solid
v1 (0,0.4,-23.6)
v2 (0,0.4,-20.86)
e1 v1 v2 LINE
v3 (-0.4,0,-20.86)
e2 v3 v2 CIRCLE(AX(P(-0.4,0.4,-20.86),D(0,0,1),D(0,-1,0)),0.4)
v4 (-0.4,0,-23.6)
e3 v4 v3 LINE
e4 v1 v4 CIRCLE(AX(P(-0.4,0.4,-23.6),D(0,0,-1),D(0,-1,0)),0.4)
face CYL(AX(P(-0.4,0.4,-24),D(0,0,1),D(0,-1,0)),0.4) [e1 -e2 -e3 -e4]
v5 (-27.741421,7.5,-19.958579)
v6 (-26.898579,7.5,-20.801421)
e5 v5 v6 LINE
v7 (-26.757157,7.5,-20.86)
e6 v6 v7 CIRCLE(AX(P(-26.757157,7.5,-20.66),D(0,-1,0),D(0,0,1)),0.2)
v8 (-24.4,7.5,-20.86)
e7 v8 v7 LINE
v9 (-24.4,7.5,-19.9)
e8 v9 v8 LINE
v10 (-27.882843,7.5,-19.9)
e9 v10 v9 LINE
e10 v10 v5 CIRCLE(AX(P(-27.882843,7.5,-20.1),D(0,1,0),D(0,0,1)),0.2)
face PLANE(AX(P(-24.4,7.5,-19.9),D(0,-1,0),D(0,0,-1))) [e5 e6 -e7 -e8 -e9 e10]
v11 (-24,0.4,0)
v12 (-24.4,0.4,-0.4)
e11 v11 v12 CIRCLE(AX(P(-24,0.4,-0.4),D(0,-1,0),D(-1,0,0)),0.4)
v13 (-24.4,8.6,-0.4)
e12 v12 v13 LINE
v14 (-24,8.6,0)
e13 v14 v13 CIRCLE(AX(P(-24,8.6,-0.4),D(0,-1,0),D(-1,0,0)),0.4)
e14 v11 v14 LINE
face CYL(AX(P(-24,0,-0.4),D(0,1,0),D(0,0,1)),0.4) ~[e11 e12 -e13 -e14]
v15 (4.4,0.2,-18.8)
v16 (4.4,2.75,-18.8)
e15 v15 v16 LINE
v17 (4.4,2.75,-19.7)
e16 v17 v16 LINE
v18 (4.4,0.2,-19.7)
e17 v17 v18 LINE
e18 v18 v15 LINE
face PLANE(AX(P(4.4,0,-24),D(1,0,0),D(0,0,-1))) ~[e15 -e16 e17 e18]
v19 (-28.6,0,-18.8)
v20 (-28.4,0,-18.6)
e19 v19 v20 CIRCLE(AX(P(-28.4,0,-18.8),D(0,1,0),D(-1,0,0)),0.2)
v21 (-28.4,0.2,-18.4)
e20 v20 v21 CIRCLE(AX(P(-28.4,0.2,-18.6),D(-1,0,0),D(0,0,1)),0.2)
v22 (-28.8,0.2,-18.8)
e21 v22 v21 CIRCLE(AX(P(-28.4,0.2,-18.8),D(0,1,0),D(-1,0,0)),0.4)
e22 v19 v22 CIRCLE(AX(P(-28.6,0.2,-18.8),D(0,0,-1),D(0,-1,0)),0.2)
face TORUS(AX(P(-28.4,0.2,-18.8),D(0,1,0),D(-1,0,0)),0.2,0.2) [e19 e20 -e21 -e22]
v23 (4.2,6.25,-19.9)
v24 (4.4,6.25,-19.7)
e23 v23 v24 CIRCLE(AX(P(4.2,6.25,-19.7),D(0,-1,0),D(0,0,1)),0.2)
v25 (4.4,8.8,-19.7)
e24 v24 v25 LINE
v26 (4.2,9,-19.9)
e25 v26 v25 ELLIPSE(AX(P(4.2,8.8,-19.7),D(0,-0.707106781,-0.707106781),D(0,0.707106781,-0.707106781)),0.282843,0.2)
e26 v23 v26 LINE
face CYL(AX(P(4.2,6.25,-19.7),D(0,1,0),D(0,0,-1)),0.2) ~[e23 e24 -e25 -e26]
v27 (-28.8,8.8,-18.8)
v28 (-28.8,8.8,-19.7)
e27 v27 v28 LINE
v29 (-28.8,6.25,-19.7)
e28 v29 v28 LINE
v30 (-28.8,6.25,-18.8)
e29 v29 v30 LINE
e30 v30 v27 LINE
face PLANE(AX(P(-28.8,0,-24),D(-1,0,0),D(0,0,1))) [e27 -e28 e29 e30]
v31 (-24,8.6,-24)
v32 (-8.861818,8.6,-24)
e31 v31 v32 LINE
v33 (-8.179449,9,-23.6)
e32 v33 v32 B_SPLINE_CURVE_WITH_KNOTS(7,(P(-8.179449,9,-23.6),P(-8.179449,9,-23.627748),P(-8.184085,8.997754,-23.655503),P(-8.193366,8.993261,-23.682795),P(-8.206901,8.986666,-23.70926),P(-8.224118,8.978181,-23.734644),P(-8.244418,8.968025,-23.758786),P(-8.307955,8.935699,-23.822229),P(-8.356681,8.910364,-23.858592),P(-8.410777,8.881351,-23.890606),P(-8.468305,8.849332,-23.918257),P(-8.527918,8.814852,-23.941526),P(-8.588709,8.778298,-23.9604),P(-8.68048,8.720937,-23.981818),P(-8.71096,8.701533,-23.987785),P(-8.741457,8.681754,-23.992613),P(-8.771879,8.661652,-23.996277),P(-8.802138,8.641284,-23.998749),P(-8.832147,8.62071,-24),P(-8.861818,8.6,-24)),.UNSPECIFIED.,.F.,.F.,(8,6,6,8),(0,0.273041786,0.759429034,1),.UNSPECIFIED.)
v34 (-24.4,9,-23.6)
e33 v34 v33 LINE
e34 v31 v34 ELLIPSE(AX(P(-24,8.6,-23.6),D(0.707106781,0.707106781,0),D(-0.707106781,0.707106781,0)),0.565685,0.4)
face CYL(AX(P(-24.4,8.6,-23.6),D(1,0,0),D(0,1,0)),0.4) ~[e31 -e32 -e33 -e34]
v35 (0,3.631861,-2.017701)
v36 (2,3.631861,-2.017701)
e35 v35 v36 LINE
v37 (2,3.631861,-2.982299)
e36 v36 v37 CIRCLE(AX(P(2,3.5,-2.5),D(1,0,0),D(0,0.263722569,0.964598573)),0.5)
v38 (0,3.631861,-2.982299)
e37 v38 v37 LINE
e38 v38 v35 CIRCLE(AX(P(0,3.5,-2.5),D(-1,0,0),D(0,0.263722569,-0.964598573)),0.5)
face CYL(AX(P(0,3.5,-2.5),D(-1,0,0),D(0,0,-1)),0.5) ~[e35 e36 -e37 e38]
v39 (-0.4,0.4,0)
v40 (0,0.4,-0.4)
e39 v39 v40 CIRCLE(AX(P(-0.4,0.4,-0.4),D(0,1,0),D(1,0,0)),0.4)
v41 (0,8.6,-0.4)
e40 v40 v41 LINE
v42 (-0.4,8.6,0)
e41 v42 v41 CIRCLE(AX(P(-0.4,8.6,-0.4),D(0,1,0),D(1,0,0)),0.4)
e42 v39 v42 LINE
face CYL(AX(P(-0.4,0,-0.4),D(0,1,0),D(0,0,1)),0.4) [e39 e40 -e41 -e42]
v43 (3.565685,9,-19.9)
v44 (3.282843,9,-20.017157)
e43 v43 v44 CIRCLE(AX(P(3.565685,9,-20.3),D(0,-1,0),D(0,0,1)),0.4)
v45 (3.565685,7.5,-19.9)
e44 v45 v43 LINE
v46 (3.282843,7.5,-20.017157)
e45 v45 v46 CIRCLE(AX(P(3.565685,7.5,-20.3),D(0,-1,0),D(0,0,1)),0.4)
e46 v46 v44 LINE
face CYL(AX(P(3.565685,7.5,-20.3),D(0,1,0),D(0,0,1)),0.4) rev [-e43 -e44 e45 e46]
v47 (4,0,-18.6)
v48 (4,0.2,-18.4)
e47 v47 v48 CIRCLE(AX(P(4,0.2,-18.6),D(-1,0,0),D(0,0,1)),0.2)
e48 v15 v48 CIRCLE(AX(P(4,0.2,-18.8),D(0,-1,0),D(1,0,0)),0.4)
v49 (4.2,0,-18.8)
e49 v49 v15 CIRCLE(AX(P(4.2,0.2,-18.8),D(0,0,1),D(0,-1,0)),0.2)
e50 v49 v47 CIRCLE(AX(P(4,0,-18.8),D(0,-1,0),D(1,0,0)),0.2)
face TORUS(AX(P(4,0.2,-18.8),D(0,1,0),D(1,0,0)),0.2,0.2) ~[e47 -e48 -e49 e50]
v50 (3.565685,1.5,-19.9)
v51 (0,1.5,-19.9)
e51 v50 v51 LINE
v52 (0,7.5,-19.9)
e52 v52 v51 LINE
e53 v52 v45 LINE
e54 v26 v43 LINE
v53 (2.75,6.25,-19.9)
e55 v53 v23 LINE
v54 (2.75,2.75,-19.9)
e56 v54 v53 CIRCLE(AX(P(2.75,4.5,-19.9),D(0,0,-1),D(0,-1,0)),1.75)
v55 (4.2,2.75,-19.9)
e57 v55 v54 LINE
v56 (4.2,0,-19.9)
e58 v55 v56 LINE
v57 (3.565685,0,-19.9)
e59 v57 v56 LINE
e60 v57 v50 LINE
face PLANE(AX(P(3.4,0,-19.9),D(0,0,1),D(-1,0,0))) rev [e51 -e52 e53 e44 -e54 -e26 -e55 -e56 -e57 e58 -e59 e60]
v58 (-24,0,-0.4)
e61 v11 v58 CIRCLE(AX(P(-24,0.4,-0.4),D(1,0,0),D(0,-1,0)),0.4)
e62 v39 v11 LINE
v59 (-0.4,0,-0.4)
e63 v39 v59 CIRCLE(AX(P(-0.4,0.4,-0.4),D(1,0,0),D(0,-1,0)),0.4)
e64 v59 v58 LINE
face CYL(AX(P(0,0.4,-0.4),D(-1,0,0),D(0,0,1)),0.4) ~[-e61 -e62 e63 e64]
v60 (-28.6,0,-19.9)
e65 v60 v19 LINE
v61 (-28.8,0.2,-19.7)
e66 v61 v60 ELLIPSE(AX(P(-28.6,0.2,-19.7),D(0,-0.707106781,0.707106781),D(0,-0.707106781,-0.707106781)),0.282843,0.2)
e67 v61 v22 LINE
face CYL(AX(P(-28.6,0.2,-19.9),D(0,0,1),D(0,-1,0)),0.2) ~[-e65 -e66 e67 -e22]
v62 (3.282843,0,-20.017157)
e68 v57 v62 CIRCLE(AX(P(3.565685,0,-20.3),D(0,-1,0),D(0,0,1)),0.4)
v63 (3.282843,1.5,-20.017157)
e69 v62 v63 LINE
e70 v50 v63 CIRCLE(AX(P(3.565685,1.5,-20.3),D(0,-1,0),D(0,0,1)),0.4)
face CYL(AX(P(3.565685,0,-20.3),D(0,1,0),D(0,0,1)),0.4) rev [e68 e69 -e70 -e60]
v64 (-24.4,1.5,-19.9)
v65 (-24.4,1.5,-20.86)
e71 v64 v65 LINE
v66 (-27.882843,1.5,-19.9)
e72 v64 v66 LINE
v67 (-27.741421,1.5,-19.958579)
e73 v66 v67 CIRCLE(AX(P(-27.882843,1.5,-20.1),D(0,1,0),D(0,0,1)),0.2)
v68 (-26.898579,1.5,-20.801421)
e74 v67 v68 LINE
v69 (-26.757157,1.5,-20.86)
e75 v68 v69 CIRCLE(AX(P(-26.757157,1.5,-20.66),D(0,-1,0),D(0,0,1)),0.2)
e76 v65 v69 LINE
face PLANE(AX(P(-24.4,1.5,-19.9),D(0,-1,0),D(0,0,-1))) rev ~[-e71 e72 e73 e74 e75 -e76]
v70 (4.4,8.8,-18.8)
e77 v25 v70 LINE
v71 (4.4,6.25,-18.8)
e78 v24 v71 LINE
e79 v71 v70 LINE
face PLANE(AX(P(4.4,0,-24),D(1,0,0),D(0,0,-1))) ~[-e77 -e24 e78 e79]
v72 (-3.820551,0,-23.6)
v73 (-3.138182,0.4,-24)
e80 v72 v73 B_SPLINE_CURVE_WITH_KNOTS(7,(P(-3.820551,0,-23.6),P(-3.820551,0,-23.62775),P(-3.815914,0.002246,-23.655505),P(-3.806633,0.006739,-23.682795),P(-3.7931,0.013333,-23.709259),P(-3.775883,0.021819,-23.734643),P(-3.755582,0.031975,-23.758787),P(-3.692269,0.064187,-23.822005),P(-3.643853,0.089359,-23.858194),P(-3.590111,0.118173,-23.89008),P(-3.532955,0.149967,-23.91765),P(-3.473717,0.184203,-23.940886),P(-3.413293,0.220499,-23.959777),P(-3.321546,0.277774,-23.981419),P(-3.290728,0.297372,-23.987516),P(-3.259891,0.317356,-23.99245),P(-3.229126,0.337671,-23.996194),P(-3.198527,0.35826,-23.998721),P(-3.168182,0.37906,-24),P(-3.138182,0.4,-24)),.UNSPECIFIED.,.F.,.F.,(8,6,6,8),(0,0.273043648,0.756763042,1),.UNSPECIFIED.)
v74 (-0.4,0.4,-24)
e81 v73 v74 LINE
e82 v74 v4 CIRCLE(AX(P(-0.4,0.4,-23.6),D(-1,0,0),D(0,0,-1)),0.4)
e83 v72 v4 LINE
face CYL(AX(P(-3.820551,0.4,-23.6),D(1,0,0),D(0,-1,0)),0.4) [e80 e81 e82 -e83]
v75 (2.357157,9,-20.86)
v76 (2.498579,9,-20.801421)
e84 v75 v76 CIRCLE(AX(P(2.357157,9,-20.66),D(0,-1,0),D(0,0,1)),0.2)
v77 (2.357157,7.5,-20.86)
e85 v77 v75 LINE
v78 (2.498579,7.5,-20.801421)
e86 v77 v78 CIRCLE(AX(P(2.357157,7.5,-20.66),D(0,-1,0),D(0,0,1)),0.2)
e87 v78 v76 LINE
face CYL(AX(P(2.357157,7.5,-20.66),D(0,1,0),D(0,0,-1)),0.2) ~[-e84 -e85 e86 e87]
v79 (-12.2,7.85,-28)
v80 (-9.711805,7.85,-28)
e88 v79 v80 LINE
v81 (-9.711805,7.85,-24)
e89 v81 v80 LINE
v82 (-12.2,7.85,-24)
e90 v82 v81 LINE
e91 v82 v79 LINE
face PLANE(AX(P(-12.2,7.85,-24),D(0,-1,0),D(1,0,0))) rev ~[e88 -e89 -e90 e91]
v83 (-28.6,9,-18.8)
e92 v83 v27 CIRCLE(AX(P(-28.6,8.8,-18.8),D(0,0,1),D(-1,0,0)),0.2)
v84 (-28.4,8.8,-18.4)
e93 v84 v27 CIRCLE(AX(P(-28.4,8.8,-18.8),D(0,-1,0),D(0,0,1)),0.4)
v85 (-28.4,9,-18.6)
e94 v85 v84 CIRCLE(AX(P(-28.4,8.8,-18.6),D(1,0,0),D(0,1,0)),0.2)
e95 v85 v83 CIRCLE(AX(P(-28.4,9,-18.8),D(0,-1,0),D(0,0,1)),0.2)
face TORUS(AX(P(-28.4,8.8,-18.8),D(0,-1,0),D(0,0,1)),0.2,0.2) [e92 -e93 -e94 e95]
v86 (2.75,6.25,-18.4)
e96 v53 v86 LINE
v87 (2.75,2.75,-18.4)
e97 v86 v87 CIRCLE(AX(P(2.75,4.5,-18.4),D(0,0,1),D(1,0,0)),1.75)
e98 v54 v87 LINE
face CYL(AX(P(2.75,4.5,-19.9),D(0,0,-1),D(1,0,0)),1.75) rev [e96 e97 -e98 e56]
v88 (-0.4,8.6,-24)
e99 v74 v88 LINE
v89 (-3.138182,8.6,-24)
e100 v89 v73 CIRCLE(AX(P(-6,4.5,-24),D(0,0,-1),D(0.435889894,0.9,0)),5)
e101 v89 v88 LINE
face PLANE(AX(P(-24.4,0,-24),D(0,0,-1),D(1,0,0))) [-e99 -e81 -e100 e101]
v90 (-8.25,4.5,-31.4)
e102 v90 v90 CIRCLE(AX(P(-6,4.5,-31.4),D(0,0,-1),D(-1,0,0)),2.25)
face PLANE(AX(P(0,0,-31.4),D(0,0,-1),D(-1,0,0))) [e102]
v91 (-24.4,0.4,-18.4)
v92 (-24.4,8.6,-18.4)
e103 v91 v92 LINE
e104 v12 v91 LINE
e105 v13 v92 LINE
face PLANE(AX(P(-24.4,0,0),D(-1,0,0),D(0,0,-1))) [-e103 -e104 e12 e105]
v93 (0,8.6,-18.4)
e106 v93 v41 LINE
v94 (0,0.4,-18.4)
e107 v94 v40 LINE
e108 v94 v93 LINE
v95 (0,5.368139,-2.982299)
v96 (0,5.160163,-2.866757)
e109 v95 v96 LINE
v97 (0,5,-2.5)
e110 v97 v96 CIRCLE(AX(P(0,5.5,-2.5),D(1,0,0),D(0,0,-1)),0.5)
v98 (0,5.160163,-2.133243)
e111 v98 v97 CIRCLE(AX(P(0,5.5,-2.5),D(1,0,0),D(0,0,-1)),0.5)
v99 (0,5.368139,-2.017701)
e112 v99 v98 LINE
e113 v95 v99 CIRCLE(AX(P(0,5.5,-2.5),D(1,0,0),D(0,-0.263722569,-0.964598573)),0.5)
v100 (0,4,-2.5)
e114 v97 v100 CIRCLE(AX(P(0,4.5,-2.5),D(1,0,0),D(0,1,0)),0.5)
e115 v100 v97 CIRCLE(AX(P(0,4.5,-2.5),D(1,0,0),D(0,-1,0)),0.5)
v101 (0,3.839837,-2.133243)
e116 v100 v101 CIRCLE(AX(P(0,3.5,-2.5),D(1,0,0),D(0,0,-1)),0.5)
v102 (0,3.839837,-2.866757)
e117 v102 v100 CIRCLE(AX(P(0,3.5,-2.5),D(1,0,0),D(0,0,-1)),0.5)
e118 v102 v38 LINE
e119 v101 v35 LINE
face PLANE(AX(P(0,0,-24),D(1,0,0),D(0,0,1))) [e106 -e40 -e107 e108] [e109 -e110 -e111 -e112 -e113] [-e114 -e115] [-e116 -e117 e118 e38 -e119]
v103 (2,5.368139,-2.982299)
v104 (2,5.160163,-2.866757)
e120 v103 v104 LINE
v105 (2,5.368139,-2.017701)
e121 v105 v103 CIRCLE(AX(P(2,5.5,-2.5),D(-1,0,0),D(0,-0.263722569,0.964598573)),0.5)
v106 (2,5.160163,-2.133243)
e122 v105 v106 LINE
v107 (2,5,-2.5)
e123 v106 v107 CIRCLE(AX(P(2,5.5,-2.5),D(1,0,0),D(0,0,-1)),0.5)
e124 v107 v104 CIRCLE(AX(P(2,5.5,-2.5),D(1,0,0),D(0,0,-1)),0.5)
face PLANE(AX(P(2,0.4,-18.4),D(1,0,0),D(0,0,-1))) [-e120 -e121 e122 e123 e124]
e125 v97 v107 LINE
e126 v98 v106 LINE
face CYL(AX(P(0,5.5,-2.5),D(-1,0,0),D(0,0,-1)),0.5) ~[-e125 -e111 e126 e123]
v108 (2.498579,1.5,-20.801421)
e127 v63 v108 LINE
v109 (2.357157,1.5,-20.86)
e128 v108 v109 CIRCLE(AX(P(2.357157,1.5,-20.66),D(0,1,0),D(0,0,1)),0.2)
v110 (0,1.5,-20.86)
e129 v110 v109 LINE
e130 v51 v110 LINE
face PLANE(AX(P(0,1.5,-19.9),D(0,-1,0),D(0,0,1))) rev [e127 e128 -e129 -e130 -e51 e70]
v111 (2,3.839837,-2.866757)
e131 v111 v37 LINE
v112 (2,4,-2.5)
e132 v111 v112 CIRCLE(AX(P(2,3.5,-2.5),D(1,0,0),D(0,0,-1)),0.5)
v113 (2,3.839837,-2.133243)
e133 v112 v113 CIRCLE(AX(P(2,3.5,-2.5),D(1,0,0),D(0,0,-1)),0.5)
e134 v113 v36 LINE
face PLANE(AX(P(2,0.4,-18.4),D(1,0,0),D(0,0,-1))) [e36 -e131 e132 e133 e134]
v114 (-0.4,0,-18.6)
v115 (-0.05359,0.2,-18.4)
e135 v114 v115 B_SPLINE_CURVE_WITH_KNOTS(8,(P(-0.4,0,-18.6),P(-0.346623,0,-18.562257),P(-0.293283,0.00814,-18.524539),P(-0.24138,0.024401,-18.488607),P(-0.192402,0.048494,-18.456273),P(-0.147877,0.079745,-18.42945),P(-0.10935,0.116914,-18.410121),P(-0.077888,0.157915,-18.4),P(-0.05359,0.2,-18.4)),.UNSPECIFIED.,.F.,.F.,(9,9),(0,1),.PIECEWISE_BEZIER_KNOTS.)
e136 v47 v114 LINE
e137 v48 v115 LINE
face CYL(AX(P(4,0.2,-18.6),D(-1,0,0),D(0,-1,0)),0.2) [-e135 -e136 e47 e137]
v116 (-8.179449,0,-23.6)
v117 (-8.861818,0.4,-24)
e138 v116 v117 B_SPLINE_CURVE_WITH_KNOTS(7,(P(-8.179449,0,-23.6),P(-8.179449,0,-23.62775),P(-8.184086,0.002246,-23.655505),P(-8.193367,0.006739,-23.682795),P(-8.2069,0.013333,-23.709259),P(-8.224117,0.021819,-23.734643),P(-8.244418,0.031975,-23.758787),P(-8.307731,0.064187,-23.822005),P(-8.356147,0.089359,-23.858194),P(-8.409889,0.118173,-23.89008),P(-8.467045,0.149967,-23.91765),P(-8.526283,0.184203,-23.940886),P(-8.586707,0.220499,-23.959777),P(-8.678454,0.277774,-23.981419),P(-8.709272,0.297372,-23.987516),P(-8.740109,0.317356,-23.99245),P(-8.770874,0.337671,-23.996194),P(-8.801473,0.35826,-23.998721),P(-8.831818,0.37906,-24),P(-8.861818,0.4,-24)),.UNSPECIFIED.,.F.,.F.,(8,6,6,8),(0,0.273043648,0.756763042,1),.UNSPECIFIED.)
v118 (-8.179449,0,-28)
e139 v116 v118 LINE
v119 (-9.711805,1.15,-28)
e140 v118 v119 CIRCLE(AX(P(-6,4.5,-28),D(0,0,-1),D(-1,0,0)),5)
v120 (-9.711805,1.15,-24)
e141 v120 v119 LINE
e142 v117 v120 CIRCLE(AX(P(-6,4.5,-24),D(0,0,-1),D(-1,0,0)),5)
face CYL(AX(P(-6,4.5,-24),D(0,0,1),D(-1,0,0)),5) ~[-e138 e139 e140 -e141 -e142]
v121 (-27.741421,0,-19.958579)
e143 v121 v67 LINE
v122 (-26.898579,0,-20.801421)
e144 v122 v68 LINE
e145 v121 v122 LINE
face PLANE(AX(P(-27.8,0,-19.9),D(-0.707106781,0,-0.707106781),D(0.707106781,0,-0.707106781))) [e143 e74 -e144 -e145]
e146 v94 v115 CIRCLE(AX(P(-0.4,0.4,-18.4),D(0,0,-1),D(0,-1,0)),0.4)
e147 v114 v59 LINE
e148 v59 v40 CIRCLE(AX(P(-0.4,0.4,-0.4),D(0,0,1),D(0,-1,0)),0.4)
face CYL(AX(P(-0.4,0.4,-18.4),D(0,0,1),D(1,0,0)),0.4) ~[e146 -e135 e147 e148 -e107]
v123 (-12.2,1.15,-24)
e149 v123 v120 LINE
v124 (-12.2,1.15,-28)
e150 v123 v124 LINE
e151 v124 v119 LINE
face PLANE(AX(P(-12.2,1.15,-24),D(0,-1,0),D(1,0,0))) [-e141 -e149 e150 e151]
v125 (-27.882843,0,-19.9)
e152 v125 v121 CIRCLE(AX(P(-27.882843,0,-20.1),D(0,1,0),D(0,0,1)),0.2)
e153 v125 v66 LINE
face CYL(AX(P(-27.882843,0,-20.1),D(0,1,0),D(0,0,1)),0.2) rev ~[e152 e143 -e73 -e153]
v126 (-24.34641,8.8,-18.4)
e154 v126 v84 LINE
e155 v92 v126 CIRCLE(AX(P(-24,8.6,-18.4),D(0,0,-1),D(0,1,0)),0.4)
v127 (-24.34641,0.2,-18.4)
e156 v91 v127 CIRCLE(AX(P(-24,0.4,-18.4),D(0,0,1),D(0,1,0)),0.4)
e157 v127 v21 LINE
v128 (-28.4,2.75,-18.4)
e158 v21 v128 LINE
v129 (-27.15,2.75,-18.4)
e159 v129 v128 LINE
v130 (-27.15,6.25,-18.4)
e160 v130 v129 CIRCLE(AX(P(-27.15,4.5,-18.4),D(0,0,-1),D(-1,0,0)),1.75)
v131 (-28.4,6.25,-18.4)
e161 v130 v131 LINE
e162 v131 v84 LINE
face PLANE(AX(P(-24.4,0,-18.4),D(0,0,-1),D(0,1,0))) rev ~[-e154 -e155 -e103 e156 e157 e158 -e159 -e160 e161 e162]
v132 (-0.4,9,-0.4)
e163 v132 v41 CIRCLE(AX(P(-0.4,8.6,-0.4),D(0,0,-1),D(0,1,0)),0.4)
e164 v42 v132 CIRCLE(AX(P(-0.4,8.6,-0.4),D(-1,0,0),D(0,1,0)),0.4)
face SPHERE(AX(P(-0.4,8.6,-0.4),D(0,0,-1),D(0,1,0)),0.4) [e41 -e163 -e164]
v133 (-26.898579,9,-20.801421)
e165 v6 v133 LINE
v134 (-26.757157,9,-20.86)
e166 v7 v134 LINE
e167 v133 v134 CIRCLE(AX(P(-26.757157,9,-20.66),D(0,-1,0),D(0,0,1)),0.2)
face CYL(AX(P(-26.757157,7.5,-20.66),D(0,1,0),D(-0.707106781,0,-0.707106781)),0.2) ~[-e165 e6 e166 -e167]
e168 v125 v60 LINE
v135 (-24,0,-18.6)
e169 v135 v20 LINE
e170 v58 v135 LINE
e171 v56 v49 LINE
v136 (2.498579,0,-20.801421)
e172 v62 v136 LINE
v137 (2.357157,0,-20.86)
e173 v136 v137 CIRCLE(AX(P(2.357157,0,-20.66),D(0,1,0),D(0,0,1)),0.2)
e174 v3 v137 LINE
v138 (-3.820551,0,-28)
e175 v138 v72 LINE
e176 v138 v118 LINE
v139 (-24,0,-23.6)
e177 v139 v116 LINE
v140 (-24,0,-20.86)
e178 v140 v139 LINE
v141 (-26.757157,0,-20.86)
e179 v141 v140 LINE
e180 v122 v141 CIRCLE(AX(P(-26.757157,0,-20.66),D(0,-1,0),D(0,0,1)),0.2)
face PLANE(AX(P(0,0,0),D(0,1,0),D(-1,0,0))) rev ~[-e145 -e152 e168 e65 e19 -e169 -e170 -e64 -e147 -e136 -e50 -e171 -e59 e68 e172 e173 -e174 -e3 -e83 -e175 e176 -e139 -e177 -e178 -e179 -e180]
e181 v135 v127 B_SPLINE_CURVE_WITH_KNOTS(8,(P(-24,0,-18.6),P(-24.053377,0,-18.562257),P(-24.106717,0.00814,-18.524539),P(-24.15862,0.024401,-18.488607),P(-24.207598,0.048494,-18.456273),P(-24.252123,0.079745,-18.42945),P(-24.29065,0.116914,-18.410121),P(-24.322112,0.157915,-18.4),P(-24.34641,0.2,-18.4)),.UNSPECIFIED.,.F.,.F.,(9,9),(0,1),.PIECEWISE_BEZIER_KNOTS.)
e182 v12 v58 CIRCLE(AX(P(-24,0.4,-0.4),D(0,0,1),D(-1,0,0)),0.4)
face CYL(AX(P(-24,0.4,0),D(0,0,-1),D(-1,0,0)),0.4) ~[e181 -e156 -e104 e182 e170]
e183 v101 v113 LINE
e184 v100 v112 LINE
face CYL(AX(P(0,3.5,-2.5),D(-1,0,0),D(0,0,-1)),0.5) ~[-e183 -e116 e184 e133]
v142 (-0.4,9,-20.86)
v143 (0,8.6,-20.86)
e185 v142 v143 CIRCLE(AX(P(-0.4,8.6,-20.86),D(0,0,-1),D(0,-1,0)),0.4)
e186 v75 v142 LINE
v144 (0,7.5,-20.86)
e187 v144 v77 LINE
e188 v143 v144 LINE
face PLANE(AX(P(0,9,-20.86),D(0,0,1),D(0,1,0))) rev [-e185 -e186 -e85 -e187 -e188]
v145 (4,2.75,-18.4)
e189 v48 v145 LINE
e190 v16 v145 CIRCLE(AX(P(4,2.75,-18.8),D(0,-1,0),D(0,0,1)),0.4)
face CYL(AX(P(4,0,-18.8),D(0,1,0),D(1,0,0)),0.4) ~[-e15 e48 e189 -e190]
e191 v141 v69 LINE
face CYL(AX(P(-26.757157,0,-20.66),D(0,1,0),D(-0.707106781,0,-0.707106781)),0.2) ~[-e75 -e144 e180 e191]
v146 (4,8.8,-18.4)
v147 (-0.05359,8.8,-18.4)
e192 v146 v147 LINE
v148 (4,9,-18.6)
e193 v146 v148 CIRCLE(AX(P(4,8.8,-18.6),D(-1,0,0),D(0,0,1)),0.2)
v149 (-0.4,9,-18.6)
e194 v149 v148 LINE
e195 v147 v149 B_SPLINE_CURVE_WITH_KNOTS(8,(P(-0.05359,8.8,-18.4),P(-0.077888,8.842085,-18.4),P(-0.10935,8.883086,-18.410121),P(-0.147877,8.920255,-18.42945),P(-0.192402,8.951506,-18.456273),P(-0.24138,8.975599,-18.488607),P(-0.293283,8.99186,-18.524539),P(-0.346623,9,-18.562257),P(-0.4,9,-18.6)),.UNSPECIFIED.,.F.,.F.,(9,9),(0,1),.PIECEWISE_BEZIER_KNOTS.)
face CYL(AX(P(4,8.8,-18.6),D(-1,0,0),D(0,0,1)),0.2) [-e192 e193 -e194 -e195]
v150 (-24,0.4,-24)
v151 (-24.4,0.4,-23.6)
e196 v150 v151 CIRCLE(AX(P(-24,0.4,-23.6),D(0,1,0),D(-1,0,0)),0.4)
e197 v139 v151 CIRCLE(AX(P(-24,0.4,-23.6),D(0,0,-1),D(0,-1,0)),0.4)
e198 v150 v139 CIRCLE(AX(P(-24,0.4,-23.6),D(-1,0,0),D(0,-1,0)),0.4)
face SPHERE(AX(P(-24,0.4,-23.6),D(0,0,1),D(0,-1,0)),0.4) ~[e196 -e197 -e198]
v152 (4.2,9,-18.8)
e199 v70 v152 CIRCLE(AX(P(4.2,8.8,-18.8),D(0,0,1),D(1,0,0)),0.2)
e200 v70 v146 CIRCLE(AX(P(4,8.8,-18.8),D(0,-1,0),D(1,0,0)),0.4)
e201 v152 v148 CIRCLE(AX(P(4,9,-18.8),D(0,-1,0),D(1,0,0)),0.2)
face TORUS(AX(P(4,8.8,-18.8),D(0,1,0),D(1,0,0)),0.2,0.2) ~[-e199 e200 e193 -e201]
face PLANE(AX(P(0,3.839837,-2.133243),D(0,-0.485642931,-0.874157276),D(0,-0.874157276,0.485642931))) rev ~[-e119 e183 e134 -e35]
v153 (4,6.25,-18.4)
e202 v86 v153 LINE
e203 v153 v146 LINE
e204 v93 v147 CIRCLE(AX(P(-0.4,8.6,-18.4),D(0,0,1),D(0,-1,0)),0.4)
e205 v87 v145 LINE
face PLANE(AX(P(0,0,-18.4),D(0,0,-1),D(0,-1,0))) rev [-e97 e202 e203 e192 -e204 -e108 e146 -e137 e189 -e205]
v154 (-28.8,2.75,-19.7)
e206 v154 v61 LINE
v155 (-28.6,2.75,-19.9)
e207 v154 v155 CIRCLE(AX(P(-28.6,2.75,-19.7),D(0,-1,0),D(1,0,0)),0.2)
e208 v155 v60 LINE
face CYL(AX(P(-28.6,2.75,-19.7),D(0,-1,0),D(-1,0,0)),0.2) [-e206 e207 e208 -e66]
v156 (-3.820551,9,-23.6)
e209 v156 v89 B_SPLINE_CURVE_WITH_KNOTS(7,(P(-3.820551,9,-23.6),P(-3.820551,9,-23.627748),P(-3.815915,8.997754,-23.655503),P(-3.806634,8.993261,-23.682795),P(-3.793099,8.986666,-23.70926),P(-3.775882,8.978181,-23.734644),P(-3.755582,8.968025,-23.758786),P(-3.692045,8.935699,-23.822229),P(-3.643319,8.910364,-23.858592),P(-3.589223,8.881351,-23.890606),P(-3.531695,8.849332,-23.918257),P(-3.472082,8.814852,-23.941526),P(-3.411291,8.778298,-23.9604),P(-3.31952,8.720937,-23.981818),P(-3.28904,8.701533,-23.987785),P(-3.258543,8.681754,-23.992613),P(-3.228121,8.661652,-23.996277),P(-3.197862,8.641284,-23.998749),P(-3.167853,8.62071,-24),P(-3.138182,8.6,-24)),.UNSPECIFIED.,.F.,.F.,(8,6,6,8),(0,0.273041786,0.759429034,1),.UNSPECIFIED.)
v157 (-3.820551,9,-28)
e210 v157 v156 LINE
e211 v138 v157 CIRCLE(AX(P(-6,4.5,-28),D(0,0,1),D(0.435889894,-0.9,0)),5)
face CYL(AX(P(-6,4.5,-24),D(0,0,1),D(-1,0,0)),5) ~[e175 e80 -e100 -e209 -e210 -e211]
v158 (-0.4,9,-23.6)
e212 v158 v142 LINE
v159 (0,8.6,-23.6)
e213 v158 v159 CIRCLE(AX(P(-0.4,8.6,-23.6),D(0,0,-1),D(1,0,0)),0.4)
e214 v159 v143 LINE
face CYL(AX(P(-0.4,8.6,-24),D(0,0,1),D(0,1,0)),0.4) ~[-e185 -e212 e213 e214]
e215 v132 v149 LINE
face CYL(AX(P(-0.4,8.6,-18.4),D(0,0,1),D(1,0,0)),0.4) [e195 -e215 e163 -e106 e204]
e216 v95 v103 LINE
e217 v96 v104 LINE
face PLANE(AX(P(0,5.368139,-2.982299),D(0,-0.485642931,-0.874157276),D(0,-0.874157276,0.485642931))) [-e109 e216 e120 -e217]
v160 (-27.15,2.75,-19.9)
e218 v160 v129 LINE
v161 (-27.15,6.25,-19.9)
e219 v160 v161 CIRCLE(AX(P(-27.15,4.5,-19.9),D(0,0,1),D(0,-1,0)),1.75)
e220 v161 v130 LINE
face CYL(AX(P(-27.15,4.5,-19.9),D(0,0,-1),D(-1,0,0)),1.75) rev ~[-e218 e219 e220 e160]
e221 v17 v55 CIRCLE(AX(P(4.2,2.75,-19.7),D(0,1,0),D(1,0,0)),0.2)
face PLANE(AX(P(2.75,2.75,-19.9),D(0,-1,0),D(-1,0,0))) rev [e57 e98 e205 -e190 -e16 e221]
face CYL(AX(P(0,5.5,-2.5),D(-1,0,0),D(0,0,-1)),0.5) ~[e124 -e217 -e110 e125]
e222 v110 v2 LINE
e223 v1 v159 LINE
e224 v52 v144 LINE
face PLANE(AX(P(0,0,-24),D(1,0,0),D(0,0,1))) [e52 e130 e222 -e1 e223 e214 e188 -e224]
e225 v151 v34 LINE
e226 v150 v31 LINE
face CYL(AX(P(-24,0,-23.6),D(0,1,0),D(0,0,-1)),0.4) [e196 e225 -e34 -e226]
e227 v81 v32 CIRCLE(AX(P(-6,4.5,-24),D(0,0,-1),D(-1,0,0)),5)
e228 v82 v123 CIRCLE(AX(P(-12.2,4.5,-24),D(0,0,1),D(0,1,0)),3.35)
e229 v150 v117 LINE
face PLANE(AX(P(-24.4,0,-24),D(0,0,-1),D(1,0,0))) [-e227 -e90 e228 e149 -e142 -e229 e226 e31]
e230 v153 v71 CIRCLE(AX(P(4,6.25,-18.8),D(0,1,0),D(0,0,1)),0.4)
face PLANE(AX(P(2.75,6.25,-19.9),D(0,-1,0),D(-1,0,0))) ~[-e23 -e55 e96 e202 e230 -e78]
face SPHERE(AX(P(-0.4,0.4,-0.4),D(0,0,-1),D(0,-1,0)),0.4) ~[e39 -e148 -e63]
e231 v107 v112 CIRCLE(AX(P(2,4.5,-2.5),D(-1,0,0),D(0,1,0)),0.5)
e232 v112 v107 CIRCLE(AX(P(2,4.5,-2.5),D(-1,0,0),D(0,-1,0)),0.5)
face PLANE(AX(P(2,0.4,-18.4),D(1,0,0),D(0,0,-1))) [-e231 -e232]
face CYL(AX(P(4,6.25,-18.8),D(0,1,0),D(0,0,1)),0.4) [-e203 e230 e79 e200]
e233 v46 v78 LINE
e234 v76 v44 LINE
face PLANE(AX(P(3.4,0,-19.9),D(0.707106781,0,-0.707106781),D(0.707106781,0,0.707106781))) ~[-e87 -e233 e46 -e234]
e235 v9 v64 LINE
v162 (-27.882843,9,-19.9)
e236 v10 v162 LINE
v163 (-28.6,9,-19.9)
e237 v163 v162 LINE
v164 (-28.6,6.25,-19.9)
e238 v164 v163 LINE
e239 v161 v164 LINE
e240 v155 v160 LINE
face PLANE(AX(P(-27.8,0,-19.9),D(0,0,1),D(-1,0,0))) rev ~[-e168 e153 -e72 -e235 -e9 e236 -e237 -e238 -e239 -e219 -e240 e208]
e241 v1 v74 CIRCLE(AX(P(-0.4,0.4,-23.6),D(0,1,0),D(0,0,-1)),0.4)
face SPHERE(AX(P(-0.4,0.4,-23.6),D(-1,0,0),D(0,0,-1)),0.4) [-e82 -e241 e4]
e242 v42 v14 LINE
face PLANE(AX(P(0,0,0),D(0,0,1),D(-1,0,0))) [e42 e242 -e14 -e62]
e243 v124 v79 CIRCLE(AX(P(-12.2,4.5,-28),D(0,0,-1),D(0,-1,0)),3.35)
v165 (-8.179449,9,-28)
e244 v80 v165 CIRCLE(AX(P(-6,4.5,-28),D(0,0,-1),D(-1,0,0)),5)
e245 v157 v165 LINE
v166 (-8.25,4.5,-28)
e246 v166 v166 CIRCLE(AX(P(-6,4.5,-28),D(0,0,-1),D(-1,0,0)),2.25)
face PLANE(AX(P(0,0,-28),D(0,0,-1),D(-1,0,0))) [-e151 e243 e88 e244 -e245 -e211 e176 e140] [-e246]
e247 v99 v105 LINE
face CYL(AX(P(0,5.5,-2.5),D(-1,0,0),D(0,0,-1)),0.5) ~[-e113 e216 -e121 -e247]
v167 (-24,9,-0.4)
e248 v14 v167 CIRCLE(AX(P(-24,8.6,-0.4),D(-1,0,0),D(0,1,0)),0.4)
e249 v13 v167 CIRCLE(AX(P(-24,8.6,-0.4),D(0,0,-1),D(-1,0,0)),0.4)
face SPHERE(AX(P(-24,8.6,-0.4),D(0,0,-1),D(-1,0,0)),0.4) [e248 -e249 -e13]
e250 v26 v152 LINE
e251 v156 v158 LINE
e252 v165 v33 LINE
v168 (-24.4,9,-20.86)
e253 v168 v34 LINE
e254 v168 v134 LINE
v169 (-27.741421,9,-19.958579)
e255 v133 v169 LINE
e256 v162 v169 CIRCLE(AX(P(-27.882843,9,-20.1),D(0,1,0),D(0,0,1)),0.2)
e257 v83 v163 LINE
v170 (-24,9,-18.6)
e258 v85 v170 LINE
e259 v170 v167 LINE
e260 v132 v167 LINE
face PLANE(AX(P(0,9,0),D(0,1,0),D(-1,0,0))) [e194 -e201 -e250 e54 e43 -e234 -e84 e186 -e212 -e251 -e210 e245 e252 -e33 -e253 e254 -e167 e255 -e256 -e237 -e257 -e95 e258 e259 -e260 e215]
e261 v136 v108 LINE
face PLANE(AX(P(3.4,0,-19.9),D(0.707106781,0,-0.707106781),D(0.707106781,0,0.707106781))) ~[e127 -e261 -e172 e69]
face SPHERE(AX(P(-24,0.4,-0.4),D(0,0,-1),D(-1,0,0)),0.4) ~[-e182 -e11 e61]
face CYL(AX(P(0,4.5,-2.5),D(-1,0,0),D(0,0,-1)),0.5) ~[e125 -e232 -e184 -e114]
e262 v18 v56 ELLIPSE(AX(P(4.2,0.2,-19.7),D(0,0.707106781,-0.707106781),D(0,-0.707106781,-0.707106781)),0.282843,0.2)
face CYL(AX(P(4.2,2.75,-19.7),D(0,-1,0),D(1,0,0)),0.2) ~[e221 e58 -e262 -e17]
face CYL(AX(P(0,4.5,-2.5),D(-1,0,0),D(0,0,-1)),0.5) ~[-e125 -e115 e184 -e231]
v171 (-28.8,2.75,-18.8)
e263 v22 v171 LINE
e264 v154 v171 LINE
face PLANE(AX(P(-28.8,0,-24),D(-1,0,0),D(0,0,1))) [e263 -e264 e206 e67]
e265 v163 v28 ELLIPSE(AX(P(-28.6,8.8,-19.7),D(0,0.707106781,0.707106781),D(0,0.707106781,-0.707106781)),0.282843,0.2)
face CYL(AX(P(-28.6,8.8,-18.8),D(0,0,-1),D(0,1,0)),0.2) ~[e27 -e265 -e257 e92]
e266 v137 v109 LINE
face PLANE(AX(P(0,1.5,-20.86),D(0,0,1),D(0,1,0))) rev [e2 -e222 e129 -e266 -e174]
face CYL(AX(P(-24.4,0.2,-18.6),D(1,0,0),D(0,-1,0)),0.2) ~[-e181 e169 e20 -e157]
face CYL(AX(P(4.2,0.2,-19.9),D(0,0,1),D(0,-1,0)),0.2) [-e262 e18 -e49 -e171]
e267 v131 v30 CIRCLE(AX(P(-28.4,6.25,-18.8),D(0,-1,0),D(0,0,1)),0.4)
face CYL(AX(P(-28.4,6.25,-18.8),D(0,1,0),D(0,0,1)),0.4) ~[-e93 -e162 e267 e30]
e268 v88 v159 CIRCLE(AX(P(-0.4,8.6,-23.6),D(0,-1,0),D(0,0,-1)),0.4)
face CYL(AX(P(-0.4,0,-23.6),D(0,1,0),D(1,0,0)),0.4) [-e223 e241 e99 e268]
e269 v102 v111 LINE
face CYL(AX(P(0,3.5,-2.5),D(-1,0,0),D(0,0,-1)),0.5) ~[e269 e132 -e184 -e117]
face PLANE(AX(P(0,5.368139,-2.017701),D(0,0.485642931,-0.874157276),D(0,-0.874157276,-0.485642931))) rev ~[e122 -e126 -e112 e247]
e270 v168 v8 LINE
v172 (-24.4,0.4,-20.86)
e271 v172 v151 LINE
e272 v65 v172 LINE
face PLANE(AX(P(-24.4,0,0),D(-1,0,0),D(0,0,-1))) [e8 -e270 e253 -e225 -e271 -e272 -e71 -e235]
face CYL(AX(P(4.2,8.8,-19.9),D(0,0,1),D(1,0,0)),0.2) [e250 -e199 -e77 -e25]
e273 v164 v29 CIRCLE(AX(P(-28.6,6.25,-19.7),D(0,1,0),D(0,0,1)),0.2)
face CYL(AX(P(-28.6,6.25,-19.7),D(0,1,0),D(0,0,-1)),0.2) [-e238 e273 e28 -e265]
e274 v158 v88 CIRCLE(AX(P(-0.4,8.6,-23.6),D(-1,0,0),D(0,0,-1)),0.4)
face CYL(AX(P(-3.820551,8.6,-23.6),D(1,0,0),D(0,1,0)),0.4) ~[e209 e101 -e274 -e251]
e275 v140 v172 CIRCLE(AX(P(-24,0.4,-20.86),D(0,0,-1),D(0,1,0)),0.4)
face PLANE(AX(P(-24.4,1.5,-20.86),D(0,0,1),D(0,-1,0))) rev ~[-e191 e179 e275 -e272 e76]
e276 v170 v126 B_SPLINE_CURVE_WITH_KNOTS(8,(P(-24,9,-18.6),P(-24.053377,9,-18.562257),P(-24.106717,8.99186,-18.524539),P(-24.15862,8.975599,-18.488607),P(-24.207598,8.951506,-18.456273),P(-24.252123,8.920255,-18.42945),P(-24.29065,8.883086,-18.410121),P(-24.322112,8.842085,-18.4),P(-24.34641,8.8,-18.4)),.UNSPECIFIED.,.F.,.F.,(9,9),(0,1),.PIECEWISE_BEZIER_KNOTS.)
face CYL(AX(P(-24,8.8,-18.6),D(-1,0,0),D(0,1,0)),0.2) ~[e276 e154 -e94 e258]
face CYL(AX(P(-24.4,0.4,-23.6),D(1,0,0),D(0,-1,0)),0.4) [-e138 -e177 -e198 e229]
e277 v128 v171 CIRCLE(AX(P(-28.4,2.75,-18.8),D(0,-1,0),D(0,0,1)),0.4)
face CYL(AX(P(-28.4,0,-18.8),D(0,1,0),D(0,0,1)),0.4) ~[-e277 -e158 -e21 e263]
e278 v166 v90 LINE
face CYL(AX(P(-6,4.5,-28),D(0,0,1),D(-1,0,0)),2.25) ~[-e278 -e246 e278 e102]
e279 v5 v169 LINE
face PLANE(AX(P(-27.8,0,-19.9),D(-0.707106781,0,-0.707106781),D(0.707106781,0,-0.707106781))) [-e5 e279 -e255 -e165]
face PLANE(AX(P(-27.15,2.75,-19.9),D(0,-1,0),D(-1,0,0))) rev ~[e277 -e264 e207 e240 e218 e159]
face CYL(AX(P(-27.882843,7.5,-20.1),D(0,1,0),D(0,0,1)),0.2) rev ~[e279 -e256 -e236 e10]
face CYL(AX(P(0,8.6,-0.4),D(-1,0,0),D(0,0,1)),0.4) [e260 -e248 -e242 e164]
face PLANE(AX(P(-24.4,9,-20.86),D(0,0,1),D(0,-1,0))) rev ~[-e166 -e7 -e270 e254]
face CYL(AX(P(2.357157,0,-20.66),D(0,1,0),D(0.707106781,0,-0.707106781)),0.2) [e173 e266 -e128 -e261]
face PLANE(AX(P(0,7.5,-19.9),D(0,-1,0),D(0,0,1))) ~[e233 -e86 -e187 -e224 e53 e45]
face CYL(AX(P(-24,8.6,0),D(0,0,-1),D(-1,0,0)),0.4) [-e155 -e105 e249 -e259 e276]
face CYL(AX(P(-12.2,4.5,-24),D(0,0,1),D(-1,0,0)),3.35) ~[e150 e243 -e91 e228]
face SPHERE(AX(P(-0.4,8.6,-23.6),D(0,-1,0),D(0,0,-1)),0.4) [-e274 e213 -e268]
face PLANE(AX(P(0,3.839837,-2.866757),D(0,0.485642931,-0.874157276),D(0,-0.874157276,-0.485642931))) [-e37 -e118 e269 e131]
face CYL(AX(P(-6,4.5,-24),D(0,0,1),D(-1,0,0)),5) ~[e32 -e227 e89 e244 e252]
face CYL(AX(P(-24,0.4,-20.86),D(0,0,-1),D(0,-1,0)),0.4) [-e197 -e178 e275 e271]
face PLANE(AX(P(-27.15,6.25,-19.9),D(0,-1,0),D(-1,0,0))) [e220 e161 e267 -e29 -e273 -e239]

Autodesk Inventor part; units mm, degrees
ref_plane "YZ Plane" through (0, 0, 0) normal (1, 0, 0) x (0, 1, 0)
ref_plane "XZ Plane" through (0, 0, 0) normal (0, 1, 0) x (-1, 0, 0)
ref_plane "XY Plane" through (0, 0, 0) normal (0, 0, 1) x (1, 0, 0)
sketch "Szkic1" plane through (0, 0, 0) normal (0, 1, 0) x (-1, 0, 0)
  line L0 (0, 0) -> (24.4, 0)
  line L1 (24.4, 0) -> (24.4, -24)
  line L2 (24.4, -24) -> (0, -24)
  line L3 (0, -24) -> (0, 0)
  dimension "d0" = 24.4
  dimension "d1" = 24
extrude "Wyciągnięcie proste1" add sketch "Szkic1" along normal blind 9
sketch "Szkic2" plane through (-24.4, 0, -24) normal (-1, 0, 0) x (0, 0, 1)
  line L0 (0, 0) -> (24, 0) projected
  line L1 (24, 0) -> (24, 9) projected
  line L2 (0, 9) -> (24, 9) projected
  line L3 (0, 0) -> (0, 9) projected
  line L4 (24, 0) -> (5.6, 0)
  line L5 (5.6, 0) -> (5.6, 9)
  line L6 (5.6, 9) -> (24, 9)
  line L7 (24, 9) -> (24, 0)
  line L8 (5.6, 9) -> (4.1, 9)
  line L9 (4.1, 9) -> (4.1, 0)
  line L10 (4.1, 0) -> (5.6, 0)
  line L11 (5.6, 0) -> (5.6, 9)
  line L12 (5.6, 9) -> (3.14, 9)
  line L13 (3.14, 9) -> (3.14, 0)
  line L14 (3.14, 0) -> (5.6, 0)
  line L15 (5.6, 0) -> (5.6, 9)
  line L16 (3.14, 9) -> (4.1, 9)
  line L17 (4.1, 9) -> (4.1, 7.5)
  line L18 (4.1, 7.5) -> (3.14, 7.5)
  line L19 (3.14, 7.5) -> (3.14, 9)
  line L20 (3.14, 0) -> (4.1, 0)
  line L21 (4.1, 0) -> (4.1, 1.5)
  line L22 (4.1, 1.5) -> (3.14, 1.5)
  line L23 (3.14, 1.5) -> (3.14, 0)
  dimension "d4" = 18.4
  dimension "d5" = 1.5
  dimension "d6" = 2.46
  dimension "d7" = 1.5
  dimension "d8" = 1.5
extrude "Wyciągnięcie proste2" add sketch "Szkic2" along normal blind 4.4 contours L13 L22 L9 L0 | L9 L2 L5 L0 | L2 L9 L18 L13
sketch "Szkic3" plane through (-24.4, 1.5, -19.9) normal (0, 0, -1) x (-1, 0, 0)
  line L0 (0, 0) -> (0, 6) projected
  line L1 (0, 0) -> (4.4, 0) projected
  line L2 (4.4, 6) -> (4.4, 0) projected
  line L3 (0, 6) -> (4.4, 6) projected
  line L4 (0, -1.5) -> (0, 7.5) projected
  line L5 (0, 3) -> (1, 3)
  line L6 (1, 3) -> (4.5, 3)
  circle A0 centre (2.75, 3) radius 1.75
  line L7 (2.75, 4.75) -> (7.5825, 4.75)
  line L8 (2.75, 1.25) -> (9.2722, 1.25)
  point P0 (-24.4, -1.5)
  point P1 (4.4, 4.75)
  point P2 (4.4, 1.25)
  dimension "d11" = 1
  dimension "d12" = 3.5
extrude "Wyciągnięcie proste3" cut sketch "Szkic3" against normal through all contours A0 L2 L6 | L6 L2 A0 | L8 A0 L2 | L7 L2 A0 picked at (2.148, 3.1298) picked at (2.148, 2.8702)
sketch "Szkic4" plane through (0, 0, 0) normal (0, -1, 0) x (1, 0, 0)
  line L0 (0, -24) -> (-24.4, -24) projected
  line L1 (0, 0) -> (0, -24) projected
  line L2 (-24.4, 0) -> (0, 0) projected
  line L3 (-24.4, -18.4) -> (-24.4, 0) projected
  line L4 (-24.4, -18.4) -> (-28.8, -18.4) projected
  line L5 (-28.8, -20.86) -> (-28.8, -18.4) projected
  line L6 (-24.4, -20.86) -> (-28.8, -20.86) projected
  line L7 (-24.4, -24) -> (-24.4, -20.86) projected
  line L8 (-24.4, -19.9) -> (-28.8, -19.9) projected
  line L9 (-28.8, -19.9) -> (-27.8, -19.9)
  line L10 (-27.8, -19.9) -> (-26.84, -20.86)
  line L11 (-24.4, -20.86) -> (-28.8, -20.86) projected
  dimension "d15" = 1
  dimension "d16" = 135
extrude "Wyciągnięcie proste4" cut sketch "Szkic4" against normal through all contours L6 L5 L8 L10
ref_plane "Płaszczyzna konstrukcyjna1" through (-12.2, 0, 0) normal (1, 0, 0) x (0, 0, -1)
mirror "Odbij1" about plane through (-12.2, 0, 0) normal (1, 0, 0)
sketch "Szkic5" plane through (0, 0, -24) normal (0, 0, -1) x (-1, 0, 0)
  line L0 (0, 0) -> (24.4, 0) projected
  line L1 (24.4, 0) -> (24.4, 9) projected
  line L2 (0, 9) -> (24.4, 9) projected
  line L3 (0, 0) -> (0, 9) projected
  line L4 (0, 0) -> (0, 9) projected
  line L5 (0, 4.5) -> (1, 4.5)
  line L6 (1, 4.5) -> (11, 4.5)
  circle A0 centre (6, 4.5) radius 5
  line L7 (11, 4.5) -> (12.2, 4.5)
  circle A1 centre (12.2, 4.5) radius 3.35
  line L8 (12.2, 7.85) -> (7.6364, 7.85)
  line L9 (12.2, 1.15) -> (7.9806, 1.15)
  point P0 (9.7118, 7.85)
  point P1 (8.1794, 9)
  point P2 (3.8206, 9)
  point P3 (3.8206, 0)
  point P4 (8.1794, 0)
  point P5 (9.7118, 1.15)
  dimension "d19" = 1
  dimension "d20" = 10
  dimension "d22" = 6.7
extrude "Wyciągnięcie proste5" add sketch "Szkic5" along normal blind 4 contours A0 L6 A1 L0 | A0 L2 A1 L6 | A0 A1 L9 | A1 A0 L6 | L6 A0 A1 | A0 A1 | A0 L8 A1
sketch "Szkic6" plane through (0, 0, -28) normal (0, 0, -1) x (-1, 0, 0)
  arc A0 (9.7118, 7.85) -> (8.1794, 9) centre (6, 4.5) ccw projected
  line L0 (8.1794, 9) -> (3.8206, 9) projected
  arc A1 (3.8206, 9) -> (3.8206, 0) centre (6, 4.5) ccw projected
  line L1 (3.8206, 0) -> (8.1794, 0) projected
  arc A2 (8.1794, 0) -> (9.7118, 1.15) centre (6, 4.5) ccw projected
  line L2 (9.7118, 1.15) -> (12.2, 1.15) projected
  arc A3 (12.2, 1.15) -> (12.2, 7.85) centre (12.2, 4.5) ccw projected
  line L3 (12.2, 7.85) -> (9.7118, 7.85) projected
  circle A4 centre (6, 4.5) radius 2.25
  point P0 (0, 0)
  dimension "d25" = 4.5
extrude "Wyciągnięcie proste6" add sketch "Szkic6" along normal blind 3.4 contours A4
fillet "Zaokrąglenie1" radius 0.4 20 edges at (0, 0, -9.2) (-24.4, 0, -9.2) (-24.4, 0, -22.43) (-16.2897, 0, -24) (-24.4, 4.5, -24) (-16.2897, 9, -24) (-1.9103, 0, -24) (0, 4.5, -24) (-1.9103, 9, -24) (0, 9, -9.2) (-24.4, 9, -9.2) (-24.4, 4.5, 0) (-12.2, 9, 0) (-12.2, 0, 0) (0, 4.5, 0) (0, 0, -22.43) (0, 9, -22.43) (3.4, 0.75, -19.9) (3.4, 8.25, -19.9) (-28.8, 1.375, -18.4)
fillet "Zaokrąglenie2" radius 0.4 3 edges at (4.4, 7.625, -18.4) (4.4, 1.375, -18.4) (-28.8, 7.625, -18.4)
fillet "Zaokrąglenie3" radius 0.2 18 edges at (-28.8, 7.625, -19.9) (-28.8, 1.375, -19.9) (4.4, 7.625, -19.9) (4.4, 1.375, -19.9) (-0.2, 0, -18.4) (4.4, 0, -19.35) (-0.2, 9, -18.4) (4.4, 9, -19.35) (-24.2, 0, -18.4) (-28.8, 0, -19.35) (-28.8, 9, -19.35) (-24.2, 9, -18.4) (-27.8, 0.75, -19.9) (-27.8, 8.25, -19.9) (2.44, 0.75, -20.86) (2.44, 8.25, -20.86) (-26.84, 8.25, -20.86) (-26.84, 0.75, -20.86)
sketch "Szkic7" plane through (0, 0.4, -18.4) normal (1, 0, 0) x (0, 0, -1)
  line L0 (0.2, 8.6) -> (-18, 8.6) projected
  line L1 (-18.4, -0.4) -> (-13.4, -0.4)
  line L2 (-13.4, -0.4) -> (-13.4, 8.6)
  line L3 (-13.4, 8.6) -> (-18.4, 8.6)
  line L4 (-18.4, 8.6) -> (-18.4, -0.4)
  circle A0 centre (-15.9, 5.1) radius 0.5
  line L5 (-15.9, 5.1) -> (-15.9, 4.1)
  line L6 (-15.9, 4.1) -> (-15.9, 3.1)
  circle A1 centre (-15.9, 4.1) radius 0.5
  circle A2 centre (-15.9, 3.1) radius 0.5
  line L7 (-13.4, 8.6) -> (-18.4, -0.4)
  line L8 (-18.4, 8.6) -> (-13.4, -0.4)
  point P0 (-15.9, 4.1)
  point P1 (-16.3823, 4.9681)
  point P2 (-16.2668, 4.7602)
  point P3 (-15.9, 4.6)
  point P4 (-15.5332, 4.7602)
  point P5 (-15.4177, 4.9681)
  point P6 (-15.4177, 3.2319)
  point P7 (-15.5332, 3.4398)
  point P8 (-15.9, 3.6)
  point P9 (-16.2668, 3.4398)
  point P10 (-16.3823, 3.2319)
  dimension "d31" = 5
  dimension "d32" = 1
  dimension "d33" = 1
  dimension "d34" = 1
extrude "Wyciągnięcie proste7" add sketch "Szkic7" along normal blind 2 contours L7 A0 L8 | A2 L7 L8 | A1 L7 L5 | L5 L8 A1 | A1 L8 L7 | A1 L7 L6 | L6 L8 A1 | L7 A1 L8
properties part number "servo_stefan"
